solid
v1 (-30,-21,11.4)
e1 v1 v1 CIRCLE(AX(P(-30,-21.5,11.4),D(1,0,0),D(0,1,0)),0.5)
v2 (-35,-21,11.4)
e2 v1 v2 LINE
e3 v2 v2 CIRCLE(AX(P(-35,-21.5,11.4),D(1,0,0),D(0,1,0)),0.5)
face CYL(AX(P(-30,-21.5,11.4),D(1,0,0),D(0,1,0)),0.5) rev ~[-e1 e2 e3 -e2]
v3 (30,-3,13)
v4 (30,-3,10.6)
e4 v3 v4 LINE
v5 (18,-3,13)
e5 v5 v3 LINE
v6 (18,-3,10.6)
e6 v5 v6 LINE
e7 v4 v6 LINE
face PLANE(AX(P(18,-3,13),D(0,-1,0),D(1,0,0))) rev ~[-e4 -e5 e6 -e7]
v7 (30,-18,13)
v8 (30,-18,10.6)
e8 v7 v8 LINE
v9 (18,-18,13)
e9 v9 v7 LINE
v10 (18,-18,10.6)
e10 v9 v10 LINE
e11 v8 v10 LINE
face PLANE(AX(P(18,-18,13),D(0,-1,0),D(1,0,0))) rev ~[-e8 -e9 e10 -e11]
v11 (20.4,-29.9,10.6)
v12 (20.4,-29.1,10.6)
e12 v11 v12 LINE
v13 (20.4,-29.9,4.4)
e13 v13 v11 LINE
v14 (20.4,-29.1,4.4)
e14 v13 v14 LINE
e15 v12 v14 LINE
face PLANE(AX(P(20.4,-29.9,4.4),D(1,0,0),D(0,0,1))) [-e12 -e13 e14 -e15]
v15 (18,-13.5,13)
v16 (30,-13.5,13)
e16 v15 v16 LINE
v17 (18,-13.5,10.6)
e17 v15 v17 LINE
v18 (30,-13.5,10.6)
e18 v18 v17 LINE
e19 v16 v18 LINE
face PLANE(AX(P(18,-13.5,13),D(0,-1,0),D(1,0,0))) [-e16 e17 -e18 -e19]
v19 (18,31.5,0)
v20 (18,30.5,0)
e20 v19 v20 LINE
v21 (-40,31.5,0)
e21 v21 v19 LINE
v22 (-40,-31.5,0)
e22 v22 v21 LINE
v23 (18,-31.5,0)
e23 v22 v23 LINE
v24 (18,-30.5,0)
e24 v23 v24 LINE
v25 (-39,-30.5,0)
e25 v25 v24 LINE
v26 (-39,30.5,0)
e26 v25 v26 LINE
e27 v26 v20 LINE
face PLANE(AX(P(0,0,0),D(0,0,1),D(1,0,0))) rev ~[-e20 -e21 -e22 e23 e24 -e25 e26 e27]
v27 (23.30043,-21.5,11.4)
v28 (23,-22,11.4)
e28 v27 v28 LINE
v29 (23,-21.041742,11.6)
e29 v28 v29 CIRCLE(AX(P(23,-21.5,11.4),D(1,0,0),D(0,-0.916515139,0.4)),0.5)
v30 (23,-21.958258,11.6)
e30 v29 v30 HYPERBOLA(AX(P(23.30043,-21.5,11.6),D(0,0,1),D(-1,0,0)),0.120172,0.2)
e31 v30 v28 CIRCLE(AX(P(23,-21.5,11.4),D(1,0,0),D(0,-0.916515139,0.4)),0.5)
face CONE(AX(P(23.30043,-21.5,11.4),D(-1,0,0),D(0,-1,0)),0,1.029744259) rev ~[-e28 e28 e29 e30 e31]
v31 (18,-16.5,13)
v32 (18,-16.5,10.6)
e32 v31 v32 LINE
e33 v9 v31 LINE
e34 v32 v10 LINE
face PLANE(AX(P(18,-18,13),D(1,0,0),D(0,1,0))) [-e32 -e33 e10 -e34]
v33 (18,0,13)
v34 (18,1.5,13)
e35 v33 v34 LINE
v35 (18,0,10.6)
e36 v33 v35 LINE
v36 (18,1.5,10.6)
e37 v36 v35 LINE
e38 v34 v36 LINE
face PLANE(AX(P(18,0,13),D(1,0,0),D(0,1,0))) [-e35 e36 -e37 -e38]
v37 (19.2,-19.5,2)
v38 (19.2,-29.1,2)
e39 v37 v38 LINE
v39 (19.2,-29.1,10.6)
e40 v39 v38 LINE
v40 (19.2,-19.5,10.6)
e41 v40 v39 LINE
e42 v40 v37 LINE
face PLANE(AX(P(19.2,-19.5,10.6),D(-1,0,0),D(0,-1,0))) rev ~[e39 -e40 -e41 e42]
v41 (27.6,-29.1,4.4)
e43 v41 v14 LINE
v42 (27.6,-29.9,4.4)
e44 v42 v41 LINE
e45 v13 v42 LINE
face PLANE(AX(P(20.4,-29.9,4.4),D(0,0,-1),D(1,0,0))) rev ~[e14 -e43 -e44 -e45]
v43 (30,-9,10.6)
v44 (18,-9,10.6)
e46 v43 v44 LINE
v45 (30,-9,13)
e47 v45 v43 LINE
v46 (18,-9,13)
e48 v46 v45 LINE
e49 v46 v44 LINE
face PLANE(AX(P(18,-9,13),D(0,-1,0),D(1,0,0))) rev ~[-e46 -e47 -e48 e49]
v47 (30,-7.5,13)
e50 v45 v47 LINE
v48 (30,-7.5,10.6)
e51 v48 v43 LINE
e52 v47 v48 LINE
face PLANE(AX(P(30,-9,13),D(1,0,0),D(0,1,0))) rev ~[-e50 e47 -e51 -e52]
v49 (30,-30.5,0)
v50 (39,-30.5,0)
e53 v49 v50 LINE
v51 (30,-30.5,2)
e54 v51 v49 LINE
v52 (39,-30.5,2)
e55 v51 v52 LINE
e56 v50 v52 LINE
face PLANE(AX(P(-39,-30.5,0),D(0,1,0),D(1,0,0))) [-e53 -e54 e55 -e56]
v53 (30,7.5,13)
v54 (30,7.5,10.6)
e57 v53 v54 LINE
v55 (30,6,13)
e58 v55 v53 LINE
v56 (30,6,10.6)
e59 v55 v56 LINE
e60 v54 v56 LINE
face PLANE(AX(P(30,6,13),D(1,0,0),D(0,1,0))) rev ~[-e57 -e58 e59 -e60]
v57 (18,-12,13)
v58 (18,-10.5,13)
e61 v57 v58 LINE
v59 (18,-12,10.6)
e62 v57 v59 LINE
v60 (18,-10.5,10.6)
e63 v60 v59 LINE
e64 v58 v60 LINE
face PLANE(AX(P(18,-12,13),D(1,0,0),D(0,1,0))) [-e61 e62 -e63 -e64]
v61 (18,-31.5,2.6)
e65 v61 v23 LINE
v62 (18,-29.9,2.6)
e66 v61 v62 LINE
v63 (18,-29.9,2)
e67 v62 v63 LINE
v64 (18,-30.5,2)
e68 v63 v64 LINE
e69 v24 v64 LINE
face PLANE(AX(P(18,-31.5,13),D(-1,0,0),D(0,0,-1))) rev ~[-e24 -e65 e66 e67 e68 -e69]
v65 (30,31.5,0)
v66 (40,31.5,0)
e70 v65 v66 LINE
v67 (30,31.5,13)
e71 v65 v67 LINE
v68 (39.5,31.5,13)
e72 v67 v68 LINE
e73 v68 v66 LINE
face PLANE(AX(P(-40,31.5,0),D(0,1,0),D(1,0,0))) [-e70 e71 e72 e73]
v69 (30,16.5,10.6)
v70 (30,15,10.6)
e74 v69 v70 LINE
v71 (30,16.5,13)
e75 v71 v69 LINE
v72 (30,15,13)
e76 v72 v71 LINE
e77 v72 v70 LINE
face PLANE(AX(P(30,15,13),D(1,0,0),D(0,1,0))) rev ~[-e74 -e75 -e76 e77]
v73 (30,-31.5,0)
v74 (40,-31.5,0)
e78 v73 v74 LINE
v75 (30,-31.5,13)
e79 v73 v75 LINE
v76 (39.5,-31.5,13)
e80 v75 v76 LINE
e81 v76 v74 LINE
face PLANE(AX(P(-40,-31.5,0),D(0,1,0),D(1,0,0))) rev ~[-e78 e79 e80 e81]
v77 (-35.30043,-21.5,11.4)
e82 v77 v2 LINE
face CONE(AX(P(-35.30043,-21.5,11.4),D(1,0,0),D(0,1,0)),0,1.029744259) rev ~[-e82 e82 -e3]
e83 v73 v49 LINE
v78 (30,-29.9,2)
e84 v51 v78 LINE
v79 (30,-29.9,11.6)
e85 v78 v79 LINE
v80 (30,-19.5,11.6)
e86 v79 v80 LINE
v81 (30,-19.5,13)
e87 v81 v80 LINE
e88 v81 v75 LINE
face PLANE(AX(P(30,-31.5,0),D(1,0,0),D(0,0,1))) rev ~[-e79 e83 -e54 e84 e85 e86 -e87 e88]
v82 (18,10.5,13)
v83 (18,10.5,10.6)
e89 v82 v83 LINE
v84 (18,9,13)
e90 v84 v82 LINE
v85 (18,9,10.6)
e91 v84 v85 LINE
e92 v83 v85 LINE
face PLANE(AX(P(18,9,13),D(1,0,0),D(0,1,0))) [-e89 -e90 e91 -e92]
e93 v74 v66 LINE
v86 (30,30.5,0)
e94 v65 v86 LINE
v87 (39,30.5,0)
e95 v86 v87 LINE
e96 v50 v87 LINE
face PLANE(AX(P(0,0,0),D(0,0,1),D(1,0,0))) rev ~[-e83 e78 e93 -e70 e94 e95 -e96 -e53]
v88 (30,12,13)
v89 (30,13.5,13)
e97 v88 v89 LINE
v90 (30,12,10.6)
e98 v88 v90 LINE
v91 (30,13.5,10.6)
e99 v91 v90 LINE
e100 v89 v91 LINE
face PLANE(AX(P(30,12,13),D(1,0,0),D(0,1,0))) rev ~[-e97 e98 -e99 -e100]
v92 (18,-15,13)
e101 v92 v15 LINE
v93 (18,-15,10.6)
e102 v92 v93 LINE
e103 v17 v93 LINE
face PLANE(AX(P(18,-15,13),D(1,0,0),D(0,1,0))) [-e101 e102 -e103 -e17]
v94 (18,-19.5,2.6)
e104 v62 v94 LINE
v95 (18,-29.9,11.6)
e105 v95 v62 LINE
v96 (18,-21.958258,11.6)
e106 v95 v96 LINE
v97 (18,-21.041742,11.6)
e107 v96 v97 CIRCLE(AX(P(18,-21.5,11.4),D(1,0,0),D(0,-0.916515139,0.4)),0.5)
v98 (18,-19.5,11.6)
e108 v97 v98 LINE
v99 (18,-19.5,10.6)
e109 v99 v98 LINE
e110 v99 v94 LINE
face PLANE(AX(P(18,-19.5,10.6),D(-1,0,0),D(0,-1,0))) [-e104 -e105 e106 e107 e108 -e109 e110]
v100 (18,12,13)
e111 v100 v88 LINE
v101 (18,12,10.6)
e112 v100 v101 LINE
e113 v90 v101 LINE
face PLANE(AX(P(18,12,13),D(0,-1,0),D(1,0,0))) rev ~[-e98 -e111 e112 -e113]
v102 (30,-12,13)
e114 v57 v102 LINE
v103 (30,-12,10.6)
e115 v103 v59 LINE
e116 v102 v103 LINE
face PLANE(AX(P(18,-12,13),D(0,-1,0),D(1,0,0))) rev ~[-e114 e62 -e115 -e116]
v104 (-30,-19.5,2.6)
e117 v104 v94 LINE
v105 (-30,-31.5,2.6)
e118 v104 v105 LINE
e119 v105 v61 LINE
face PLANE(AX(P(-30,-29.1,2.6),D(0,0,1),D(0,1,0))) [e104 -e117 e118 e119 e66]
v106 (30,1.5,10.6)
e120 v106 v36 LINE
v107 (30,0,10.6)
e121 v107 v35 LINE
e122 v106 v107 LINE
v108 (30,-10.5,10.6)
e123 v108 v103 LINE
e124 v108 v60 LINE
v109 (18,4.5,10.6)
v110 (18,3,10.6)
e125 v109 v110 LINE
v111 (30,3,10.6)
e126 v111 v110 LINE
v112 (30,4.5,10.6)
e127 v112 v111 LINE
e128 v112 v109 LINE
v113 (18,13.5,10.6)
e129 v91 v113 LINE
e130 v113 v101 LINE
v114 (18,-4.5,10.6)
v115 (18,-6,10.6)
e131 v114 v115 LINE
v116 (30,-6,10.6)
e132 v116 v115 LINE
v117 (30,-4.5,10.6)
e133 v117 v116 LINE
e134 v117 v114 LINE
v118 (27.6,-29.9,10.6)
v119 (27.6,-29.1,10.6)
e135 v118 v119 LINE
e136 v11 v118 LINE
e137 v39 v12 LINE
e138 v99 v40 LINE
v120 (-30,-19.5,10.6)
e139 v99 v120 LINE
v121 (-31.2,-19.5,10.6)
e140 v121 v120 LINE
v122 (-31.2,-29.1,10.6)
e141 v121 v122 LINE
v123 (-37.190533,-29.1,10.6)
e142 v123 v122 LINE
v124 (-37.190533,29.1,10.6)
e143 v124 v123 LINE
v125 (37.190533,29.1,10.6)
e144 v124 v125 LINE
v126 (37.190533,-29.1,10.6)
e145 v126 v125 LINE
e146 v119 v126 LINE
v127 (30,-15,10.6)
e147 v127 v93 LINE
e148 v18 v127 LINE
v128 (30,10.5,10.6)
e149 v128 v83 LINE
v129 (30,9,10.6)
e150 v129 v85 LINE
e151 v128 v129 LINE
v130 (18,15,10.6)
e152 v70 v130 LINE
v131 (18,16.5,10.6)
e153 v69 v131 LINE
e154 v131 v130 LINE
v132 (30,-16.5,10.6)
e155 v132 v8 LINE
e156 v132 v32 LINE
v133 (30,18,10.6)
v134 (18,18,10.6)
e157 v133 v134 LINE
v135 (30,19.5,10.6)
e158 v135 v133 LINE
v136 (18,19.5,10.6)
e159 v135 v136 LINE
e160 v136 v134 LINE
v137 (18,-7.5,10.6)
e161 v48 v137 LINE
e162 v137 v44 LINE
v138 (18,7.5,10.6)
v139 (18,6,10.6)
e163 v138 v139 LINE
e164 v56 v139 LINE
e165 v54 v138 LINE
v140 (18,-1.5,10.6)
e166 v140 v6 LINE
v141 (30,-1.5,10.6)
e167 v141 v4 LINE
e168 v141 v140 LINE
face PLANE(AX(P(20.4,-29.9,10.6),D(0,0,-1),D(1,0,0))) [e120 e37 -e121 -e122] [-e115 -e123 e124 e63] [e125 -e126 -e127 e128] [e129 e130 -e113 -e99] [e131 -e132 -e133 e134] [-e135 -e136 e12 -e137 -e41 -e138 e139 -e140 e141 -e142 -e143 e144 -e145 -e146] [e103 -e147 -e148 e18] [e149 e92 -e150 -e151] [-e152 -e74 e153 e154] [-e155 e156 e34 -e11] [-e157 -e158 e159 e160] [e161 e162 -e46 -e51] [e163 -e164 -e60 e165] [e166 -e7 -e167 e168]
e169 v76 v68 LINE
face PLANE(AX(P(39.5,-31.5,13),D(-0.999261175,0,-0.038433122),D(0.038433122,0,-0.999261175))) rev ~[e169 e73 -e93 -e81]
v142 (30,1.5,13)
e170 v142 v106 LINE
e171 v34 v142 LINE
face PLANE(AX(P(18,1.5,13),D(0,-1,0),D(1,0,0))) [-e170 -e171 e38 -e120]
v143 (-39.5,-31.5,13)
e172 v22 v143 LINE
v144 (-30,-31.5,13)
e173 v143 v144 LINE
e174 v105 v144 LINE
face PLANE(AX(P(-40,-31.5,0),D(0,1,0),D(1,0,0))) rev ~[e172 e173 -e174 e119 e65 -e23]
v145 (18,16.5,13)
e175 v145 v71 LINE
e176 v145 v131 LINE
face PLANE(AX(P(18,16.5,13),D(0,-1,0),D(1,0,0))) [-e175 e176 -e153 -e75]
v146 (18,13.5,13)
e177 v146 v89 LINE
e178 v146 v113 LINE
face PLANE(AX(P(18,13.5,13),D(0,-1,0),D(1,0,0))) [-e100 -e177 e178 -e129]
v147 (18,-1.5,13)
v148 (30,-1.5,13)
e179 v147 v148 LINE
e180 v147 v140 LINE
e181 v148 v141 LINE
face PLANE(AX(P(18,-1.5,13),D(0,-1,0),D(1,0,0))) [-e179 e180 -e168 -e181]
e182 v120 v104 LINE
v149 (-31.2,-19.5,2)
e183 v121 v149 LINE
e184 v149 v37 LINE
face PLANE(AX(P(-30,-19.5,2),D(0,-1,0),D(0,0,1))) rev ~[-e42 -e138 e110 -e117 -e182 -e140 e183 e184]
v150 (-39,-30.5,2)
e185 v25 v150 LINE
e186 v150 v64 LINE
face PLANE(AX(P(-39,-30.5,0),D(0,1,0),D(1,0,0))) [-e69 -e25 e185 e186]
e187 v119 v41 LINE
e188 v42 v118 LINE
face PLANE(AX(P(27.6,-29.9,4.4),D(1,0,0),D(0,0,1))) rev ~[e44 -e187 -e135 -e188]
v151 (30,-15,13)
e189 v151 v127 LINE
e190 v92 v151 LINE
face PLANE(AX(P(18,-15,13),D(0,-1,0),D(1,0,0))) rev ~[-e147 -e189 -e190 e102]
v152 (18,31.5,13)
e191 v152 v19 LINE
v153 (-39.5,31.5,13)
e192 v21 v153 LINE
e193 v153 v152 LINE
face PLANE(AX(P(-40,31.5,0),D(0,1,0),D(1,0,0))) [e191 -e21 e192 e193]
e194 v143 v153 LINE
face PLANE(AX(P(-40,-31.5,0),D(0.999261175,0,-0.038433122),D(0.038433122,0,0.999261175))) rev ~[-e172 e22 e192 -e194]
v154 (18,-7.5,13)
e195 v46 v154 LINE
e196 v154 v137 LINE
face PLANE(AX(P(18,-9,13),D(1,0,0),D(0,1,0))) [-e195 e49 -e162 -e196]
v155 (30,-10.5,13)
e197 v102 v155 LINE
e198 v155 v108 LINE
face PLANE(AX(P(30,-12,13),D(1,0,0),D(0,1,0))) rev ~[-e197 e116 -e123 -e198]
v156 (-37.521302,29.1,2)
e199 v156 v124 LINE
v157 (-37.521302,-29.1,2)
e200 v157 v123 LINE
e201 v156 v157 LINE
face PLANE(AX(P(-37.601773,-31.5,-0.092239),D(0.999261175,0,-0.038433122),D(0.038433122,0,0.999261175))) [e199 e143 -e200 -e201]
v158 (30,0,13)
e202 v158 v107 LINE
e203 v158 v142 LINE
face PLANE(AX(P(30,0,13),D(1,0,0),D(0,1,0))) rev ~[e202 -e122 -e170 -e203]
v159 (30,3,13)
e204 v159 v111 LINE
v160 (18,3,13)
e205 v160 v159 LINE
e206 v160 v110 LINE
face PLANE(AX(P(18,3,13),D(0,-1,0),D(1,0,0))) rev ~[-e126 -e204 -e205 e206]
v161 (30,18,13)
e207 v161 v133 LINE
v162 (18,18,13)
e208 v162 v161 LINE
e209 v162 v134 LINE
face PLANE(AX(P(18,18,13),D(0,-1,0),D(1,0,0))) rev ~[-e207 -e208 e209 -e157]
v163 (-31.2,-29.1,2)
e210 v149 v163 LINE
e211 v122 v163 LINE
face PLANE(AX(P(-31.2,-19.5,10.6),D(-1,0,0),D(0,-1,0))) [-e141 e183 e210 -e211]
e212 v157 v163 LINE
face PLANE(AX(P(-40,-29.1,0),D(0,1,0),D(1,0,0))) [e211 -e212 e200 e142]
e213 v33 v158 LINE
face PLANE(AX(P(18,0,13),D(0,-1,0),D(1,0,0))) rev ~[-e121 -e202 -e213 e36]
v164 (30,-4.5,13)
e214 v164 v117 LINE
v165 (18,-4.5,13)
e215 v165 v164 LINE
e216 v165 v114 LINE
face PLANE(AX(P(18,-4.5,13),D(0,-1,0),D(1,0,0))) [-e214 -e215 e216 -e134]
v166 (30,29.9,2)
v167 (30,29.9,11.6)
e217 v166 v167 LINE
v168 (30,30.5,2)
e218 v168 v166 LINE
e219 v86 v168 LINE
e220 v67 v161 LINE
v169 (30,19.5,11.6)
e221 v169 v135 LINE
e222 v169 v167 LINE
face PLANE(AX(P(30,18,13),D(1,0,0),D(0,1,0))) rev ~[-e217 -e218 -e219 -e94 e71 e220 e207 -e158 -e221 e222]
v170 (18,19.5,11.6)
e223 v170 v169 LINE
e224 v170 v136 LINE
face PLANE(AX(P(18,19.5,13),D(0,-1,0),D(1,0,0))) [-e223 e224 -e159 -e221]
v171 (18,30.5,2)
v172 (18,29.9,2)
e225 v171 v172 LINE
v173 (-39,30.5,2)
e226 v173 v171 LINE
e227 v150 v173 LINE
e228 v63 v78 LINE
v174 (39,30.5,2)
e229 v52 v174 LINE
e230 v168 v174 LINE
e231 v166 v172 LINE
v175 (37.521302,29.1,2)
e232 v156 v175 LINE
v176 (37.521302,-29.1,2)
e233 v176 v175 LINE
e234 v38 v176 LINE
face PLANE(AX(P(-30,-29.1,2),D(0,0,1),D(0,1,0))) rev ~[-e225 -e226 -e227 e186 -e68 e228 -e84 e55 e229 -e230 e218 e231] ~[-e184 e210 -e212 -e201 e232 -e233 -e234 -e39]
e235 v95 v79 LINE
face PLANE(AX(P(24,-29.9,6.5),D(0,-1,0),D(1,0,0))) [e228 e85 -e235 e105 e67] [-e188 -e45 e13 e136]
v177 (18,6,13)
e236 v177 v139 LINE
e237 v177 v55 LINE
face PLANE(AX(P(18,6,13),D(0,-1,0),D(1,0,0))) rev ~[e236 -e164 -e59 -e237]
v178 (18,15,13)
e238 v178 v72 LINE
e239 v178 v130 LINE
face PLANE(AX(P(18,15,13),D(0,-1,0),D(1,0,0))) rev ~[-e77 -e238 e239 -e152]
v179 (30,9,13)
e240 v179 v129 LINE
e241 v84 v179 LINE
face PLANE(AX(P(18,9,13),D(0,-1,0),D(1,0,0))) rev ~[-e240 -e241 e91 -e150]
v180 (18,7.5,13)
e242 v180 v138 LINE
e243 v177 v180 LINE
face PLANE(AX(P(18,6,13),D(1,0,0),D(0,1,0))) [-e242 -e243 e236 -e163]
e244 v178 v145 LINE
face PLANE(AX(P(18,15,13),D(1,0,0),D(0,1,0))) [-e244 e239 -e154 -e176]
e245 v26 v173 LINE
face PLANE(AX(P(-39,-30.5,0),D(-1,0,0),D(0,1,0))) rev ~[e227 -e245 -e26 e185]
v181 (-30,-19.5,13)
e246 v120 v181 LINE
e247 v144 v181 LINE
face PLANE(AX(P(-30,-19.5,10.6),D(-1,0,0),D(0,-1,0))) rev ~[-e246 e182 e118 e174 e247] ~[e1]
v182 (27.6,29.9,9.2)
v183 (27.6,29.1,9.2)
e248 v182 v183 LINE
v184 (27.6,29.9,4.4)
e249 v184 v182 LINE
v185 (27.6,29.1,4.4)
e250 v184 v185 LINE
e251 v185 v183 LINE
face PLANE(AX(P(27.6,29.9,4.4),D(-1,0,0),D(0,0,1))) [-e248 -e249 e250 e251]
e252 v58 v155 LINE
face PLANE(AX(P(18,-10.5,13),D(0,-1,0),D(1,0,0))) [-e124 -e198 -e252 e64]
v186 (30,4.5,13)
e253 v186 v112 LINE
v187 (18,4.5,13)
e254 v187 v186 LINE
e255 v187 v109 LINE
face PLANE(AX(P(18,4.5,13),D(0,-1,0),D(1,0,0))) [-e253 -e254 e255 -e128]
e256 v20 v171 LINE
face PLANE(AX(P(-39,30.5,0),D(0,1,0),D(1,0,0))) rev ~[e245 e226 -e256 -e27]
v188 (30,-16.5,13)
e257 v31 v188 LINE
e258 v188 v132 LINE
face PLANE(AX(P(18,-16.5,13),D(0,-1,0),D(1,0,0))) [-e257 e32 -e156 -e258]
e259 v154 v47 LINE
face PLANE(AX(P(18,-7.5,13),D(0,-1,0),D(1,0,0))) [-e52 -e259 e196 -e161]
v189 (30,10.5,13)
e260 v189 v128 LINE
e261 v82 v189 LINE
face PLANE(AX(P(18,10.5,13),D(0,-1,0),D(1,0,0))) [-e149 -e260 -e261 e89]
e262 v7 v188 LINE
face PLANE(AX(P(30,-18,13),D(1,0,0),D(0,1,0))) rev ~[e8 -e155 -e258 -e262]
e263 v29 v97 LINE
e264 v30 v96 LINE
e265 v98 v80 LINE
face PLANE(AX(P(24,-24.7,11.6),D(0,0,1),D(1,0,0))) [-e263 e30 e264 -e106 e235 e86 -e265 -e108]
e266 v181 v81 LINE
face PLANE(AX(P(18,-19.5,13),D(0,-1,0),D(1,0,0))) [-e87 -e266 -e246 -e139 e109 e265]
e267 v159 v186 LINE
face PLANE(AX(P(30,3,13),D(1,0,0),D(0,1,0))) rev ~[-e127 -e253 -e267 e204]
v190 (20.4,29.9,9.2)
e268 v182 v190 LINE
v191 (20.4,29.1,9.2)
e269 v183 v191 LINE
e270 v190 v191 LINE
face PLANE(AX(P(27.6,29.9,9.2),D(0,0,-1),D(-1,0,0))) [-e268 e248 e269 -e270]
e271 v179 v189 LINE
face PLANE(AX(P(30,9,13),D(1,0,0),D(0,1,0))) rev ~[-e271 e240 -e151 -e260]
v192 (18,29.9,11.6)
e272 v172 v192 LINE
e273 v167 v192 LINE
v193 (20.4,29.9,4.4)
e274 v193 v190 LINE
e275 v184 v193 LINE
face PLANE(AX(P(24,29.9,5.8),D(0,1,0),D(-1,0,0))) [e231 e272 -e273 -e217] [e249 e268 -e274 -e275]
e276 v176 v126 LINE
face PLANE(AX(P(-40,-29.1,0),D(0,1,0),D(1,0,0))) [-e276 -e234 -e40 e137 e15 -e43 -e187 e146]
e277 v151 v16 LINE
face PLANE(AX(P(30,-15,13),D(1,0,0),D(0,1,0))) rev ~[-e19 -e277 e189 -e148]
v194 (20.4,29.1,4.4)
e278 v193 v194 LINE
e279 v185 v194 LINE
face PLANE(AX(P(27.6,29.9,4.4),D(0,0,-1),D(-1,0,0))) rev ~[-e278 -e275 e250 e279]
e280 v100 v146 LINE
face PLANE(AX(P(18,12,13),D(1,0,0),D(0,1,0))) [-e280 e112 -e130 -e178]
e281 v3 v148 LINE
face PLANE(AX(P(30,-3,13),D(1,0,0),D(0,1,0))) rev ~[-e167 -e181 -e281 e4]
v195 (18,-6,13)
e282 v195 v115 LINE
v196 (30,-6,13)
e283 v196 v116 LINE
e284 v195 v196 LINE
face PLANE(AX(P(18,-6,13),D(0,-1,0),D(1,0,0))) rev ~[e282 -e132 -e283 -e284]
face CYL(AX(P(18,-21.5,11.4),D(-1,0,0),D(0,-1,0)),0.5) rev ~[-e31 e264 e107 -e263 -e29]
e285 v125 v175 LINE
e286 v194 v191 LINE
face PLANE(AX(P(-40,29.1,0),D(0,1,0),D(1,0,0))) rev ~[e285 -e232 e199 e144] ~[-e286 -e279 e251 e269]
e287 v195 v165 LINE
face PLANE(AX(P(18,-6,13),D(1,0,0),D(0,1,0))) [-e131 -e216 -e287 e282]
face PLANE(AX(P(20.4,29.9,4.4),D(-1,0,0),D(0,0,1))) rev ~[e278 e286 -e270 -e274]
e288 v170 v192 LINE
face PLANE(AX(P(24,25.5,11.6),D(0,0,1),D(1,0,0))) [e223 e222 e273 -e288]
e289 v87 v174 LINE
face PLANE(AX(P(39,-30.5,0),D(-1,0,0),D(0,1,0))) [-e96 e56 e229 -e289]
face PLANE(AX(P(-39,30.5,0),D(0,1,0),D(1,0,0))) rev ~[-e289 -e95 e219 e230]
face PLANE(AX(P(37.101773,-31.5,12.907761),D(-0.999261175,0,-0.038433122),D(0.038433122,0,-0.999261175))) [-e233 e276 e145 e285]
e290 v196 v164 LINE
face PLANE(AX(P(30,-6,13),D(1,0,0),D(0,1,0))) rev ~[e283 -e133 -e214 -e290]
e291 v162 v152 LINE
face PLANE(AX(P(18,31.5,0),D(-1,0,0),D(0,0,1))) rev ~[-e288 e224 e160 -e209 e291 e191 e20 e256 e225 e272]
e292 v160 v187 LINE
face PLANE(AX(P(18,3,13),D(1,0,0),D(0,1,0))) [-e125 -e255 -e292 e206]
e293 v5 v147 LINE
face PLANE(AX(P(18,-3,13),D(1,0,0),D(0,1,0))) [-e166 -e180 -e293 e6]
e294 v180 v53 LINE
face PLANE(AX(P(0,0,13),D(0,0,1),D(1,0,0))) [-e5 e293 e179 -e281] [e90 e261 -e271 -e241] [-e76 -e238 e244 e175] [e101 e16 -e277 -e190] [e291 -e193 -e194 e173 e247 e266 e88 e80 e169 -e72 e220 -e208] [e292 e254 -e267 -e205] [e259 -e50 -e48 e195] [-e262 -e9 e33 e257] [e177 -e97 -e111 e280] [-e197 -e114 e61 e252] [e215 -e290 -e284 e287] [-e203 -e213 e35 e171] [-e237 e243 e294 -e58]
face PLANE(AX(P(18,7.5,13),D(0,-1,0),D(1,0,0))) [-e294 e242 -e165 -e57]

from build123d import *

# Parameters (mm, degrees)
F0_W      = 80
F0_H      = 63
F0_W_2    = 78
F0_H_2    = 61
F1_DEPTH  = 13
F3_DEPTH  = 63
F4_T      = -2.4
F5_DEPTH  = 2
F6_DEPTH  = 1.6
F7_W      = 7.2
F7_H      = 6.2
F8_DEPTH  = 2
F9_W      = 12
F9_H      = 12
F9_H_2    = 10.4
F10_DEPTH = 1.4
F9_H_3    = 1.5
F11_DEPTH = 3
F12_W     = 12
F12_H     = 11.6
F13_DEPTH = 1.6
F14_W     = 7.2
F14_H     = 4.8
F15_DEPTH = 3
F2_W      = 48
F2_H      = 10.4
F16_DEPTH = 12
F17_W     = 1.2
F17_H     = 9.6
F18_DEPTH = 8.6
F19_W     = 9.6
F19_H     = 0.6
F20_DEPTH = 48
F21_D     = 1
F21_DEPTH = 5
F21_TIP   = 0.3004303095
F23_D     = 1
F23_DEPTH = 5
F23_TIP   = 0.3004303095


with BuildPart() as f1:
    # F0 (on Top) → F1 (new body)
    with BuildSketch(Plane.XY):
        Rectangle(F0_W, F0_H)
        Rectangle(F0_W_2, F0_H_2, mode=Mode.SUBTRACT)
        Rectangle(F0_W_2, F0_H_2)
    extrude(amount=F1_DEPTH)

    # F2 (on face) → F3 (cut)
    with BuildSketch(Plane.XZ.offset(31.5)):
        Polygon((-39.5, 13), (-40, 13), (-40, 0), align=None)
        Polygon((39.5, 13), (40, 0), (40, 13), align=None)
    extrude(amount=-F3_DEPTH, mode=Mode.SUBTRACT)

    # F4
    f4_openings = [f1.faces().sort_by_distance(p)[0] for p in [
        (0, 0, 0),
    ]]
    offset(amount=F4_T, openings=f4_openings)

    # F0 (on Top) → F5 (cut)
    with BuildSketch(Plane.XY):
        Rectangle(F0_W_2, F0_H_2)
    extrude(amount=F5_DEPTH, mode=Mode.SUBTRACT)

    # F2 (on face) → F6 (cut)
    with BuildSketch(Plane.XZ.offset(31.5)):
        Polygon((18, 2.6), (18, 0), (30, 0), (30, 13), (18, 13), align=None)
    extrude(amount=-F6_DEPTH, mode=Mode.SUBTRACT)

    # F7 (on face) → F8 (cut)
    with BuildSketch(Plane.XZ.offset(29.9)):
        with Locations((24, 7.5)):
            Rectangle(F7_W, F7_H)
    extrude(amount=-F8_DEPTH, mode=Mode.SUBTRACT)

    # F9 (on face) → F10 (cut)
    with BuildSketch(Plane.XY.offset(13)):
        with Locations((24, 25.5)):
            Rectangle(F9_W, F9_H)
        with Locations((24, -24.7)):
            Rectangle(F9_W, F9_H_2)
    extrude(amount=-F10_DEPTH, mode=Mode.SUBTRACT)

    # F9 (on face) → F11 (cut)
    with BuildSketch(Plane.XY.offset(13)):
        with Locations((24, -17.25)):
            Rectangle(F9_W, F9_H_3)
        with Locations((24, -14.25)):
            Rectangle(F9_W, F9_H_3)
        with Locations((24, -11.25)):
            Rectangle(F9_W, F9_H_3)
        with Locations((24, -8.25)):
            Rectangle(F9_W, F9_H_3)
        with Locations((24, -5.25)):
            Rectangle(F9_W, F9_H_3)
        with Locations((24, 0.75)):
            Rectangle(F9_W, F9_H_3)
        with Locations((24, -2.25)):
            Rectangle(F9_W, F9_H_3)
        with Locations((24, 3.75)):
            Rectangle(F9_W, F9_H_3)
        with Locations((24, 6.75)):
            Rectangle(F9_W, F9_H_3)
        with Locations((24, 9.75)):
            Rectangle(F9_W, F9_H_3)
        with Locations((24, 12.75)):
            Rectangle(F9_W, F9_H_3)
        with Locations((24, 15.75)):
            Rectangle(F9_W, F9_H_3)
        with Locations((24, 18.75)):
            Rectangle(F9_W, F9_H_3)
    extrude(amount=-F11_DEPTH, mode=Mode.SUBTRACT)

    # F12 (on face) → F13 (cut)
    with BuildSketch(Plane(origin=(0, 31.5, 0), x_dir=(-1, 0, 0), z_dir=(0, 1, 0))):
        with Locations((-24, 5.8)):
            Rectangle(F12_W, F12_H)
    extrude(amount=-F13_DEPTH, mode=Mode.SUBTRACT)

    # F14 (on face) → F15 (cut)
    with BuildSketch(Plane(origin=(0, 29.9, 0), x_dir=(-1, 0, 0), z_dir=(0, 1, 0))):
        with Locations((-24, 6.8)):
            Rectangle(F14_W, F14_H)
    extrude(amount=-F15_DEPTH, mode=Mode.SUBTRACT)

    # F2 (on face) → F16 (cut)
    with BuildSketch(Plane.XZ.offset(31.5)):
        with Locations((-6, 7.8)):
            Rectangle(F2_W, F2_H)
    extrude(amount=-F16_DEPTH, mode=Mode.SUBTRACT)

    # F17 (on face) → F18 (join)
    with BuildSketch(Plane(origin=(0, 0, 10.6), x_dir=(1, 0, 0), z_dir=(0, 0, -1))):
        with Locations((18.6, 24.3)):
            Rectangle(F17_W, F17_H)
        with Locations((-30.6, 24.3)):
            Rectangle(F17_W, F17_H)
    extrude(amount=F18_DEPTH)

    # F19 (on face) → F20 (join)
    with BuildSketch(Plane.YZ.offset(-30)):
        with Locations((-24.3, 2.3)):
            Rectangle(F19_W, F19_H)
    extrude(amount=F20_DEPTH)

    # F21 (one way)
    with BuildSketch(Plane.YZ.offset(-30)):
        with Locations((-21.5, 11.4)):
            Circle(F21_D / 2)
    extrude(amount=-F21_DEPTH, mode=Mode.SUBTRACT)
    with Locations(Plane.YZ.offset(-30)):
        with Locations((-21.5, 11.4)):
            with Locations((0, 0, -(F21_DEPTH + F21_TIP / 2))):  # 118° drill point
                Cone(0, F21_D / 2, F21_TIP, mode=Mode.SUBTRACT)

    # F23 (one way)
    with BuildSketch(Plane(origin=(18, 0, 0), x_dir=(0, -1, 0), z_dir=(-1, 0, 0))):
        with Locations((21.5, 11.4)):
            Circle(F23_D / 2)
    extrude(amount=-F23_DEPTH, mode=Mode.SUBTRACT)
    with Locations(Plane(origin=(18, 0, 0), x_dir=(0, -1, 0), z_dir=(-1, 0, 0))):
        with Locations((21.5, 11.4)):
            with Locations((0, 0, -(F23_DEPTH + F23_TIP / 2))):  # 118° drill point
                Cone(0, F23_D / 2, F23_TIP, mode=Mode.SUBTRACT)


solid = f1.part
